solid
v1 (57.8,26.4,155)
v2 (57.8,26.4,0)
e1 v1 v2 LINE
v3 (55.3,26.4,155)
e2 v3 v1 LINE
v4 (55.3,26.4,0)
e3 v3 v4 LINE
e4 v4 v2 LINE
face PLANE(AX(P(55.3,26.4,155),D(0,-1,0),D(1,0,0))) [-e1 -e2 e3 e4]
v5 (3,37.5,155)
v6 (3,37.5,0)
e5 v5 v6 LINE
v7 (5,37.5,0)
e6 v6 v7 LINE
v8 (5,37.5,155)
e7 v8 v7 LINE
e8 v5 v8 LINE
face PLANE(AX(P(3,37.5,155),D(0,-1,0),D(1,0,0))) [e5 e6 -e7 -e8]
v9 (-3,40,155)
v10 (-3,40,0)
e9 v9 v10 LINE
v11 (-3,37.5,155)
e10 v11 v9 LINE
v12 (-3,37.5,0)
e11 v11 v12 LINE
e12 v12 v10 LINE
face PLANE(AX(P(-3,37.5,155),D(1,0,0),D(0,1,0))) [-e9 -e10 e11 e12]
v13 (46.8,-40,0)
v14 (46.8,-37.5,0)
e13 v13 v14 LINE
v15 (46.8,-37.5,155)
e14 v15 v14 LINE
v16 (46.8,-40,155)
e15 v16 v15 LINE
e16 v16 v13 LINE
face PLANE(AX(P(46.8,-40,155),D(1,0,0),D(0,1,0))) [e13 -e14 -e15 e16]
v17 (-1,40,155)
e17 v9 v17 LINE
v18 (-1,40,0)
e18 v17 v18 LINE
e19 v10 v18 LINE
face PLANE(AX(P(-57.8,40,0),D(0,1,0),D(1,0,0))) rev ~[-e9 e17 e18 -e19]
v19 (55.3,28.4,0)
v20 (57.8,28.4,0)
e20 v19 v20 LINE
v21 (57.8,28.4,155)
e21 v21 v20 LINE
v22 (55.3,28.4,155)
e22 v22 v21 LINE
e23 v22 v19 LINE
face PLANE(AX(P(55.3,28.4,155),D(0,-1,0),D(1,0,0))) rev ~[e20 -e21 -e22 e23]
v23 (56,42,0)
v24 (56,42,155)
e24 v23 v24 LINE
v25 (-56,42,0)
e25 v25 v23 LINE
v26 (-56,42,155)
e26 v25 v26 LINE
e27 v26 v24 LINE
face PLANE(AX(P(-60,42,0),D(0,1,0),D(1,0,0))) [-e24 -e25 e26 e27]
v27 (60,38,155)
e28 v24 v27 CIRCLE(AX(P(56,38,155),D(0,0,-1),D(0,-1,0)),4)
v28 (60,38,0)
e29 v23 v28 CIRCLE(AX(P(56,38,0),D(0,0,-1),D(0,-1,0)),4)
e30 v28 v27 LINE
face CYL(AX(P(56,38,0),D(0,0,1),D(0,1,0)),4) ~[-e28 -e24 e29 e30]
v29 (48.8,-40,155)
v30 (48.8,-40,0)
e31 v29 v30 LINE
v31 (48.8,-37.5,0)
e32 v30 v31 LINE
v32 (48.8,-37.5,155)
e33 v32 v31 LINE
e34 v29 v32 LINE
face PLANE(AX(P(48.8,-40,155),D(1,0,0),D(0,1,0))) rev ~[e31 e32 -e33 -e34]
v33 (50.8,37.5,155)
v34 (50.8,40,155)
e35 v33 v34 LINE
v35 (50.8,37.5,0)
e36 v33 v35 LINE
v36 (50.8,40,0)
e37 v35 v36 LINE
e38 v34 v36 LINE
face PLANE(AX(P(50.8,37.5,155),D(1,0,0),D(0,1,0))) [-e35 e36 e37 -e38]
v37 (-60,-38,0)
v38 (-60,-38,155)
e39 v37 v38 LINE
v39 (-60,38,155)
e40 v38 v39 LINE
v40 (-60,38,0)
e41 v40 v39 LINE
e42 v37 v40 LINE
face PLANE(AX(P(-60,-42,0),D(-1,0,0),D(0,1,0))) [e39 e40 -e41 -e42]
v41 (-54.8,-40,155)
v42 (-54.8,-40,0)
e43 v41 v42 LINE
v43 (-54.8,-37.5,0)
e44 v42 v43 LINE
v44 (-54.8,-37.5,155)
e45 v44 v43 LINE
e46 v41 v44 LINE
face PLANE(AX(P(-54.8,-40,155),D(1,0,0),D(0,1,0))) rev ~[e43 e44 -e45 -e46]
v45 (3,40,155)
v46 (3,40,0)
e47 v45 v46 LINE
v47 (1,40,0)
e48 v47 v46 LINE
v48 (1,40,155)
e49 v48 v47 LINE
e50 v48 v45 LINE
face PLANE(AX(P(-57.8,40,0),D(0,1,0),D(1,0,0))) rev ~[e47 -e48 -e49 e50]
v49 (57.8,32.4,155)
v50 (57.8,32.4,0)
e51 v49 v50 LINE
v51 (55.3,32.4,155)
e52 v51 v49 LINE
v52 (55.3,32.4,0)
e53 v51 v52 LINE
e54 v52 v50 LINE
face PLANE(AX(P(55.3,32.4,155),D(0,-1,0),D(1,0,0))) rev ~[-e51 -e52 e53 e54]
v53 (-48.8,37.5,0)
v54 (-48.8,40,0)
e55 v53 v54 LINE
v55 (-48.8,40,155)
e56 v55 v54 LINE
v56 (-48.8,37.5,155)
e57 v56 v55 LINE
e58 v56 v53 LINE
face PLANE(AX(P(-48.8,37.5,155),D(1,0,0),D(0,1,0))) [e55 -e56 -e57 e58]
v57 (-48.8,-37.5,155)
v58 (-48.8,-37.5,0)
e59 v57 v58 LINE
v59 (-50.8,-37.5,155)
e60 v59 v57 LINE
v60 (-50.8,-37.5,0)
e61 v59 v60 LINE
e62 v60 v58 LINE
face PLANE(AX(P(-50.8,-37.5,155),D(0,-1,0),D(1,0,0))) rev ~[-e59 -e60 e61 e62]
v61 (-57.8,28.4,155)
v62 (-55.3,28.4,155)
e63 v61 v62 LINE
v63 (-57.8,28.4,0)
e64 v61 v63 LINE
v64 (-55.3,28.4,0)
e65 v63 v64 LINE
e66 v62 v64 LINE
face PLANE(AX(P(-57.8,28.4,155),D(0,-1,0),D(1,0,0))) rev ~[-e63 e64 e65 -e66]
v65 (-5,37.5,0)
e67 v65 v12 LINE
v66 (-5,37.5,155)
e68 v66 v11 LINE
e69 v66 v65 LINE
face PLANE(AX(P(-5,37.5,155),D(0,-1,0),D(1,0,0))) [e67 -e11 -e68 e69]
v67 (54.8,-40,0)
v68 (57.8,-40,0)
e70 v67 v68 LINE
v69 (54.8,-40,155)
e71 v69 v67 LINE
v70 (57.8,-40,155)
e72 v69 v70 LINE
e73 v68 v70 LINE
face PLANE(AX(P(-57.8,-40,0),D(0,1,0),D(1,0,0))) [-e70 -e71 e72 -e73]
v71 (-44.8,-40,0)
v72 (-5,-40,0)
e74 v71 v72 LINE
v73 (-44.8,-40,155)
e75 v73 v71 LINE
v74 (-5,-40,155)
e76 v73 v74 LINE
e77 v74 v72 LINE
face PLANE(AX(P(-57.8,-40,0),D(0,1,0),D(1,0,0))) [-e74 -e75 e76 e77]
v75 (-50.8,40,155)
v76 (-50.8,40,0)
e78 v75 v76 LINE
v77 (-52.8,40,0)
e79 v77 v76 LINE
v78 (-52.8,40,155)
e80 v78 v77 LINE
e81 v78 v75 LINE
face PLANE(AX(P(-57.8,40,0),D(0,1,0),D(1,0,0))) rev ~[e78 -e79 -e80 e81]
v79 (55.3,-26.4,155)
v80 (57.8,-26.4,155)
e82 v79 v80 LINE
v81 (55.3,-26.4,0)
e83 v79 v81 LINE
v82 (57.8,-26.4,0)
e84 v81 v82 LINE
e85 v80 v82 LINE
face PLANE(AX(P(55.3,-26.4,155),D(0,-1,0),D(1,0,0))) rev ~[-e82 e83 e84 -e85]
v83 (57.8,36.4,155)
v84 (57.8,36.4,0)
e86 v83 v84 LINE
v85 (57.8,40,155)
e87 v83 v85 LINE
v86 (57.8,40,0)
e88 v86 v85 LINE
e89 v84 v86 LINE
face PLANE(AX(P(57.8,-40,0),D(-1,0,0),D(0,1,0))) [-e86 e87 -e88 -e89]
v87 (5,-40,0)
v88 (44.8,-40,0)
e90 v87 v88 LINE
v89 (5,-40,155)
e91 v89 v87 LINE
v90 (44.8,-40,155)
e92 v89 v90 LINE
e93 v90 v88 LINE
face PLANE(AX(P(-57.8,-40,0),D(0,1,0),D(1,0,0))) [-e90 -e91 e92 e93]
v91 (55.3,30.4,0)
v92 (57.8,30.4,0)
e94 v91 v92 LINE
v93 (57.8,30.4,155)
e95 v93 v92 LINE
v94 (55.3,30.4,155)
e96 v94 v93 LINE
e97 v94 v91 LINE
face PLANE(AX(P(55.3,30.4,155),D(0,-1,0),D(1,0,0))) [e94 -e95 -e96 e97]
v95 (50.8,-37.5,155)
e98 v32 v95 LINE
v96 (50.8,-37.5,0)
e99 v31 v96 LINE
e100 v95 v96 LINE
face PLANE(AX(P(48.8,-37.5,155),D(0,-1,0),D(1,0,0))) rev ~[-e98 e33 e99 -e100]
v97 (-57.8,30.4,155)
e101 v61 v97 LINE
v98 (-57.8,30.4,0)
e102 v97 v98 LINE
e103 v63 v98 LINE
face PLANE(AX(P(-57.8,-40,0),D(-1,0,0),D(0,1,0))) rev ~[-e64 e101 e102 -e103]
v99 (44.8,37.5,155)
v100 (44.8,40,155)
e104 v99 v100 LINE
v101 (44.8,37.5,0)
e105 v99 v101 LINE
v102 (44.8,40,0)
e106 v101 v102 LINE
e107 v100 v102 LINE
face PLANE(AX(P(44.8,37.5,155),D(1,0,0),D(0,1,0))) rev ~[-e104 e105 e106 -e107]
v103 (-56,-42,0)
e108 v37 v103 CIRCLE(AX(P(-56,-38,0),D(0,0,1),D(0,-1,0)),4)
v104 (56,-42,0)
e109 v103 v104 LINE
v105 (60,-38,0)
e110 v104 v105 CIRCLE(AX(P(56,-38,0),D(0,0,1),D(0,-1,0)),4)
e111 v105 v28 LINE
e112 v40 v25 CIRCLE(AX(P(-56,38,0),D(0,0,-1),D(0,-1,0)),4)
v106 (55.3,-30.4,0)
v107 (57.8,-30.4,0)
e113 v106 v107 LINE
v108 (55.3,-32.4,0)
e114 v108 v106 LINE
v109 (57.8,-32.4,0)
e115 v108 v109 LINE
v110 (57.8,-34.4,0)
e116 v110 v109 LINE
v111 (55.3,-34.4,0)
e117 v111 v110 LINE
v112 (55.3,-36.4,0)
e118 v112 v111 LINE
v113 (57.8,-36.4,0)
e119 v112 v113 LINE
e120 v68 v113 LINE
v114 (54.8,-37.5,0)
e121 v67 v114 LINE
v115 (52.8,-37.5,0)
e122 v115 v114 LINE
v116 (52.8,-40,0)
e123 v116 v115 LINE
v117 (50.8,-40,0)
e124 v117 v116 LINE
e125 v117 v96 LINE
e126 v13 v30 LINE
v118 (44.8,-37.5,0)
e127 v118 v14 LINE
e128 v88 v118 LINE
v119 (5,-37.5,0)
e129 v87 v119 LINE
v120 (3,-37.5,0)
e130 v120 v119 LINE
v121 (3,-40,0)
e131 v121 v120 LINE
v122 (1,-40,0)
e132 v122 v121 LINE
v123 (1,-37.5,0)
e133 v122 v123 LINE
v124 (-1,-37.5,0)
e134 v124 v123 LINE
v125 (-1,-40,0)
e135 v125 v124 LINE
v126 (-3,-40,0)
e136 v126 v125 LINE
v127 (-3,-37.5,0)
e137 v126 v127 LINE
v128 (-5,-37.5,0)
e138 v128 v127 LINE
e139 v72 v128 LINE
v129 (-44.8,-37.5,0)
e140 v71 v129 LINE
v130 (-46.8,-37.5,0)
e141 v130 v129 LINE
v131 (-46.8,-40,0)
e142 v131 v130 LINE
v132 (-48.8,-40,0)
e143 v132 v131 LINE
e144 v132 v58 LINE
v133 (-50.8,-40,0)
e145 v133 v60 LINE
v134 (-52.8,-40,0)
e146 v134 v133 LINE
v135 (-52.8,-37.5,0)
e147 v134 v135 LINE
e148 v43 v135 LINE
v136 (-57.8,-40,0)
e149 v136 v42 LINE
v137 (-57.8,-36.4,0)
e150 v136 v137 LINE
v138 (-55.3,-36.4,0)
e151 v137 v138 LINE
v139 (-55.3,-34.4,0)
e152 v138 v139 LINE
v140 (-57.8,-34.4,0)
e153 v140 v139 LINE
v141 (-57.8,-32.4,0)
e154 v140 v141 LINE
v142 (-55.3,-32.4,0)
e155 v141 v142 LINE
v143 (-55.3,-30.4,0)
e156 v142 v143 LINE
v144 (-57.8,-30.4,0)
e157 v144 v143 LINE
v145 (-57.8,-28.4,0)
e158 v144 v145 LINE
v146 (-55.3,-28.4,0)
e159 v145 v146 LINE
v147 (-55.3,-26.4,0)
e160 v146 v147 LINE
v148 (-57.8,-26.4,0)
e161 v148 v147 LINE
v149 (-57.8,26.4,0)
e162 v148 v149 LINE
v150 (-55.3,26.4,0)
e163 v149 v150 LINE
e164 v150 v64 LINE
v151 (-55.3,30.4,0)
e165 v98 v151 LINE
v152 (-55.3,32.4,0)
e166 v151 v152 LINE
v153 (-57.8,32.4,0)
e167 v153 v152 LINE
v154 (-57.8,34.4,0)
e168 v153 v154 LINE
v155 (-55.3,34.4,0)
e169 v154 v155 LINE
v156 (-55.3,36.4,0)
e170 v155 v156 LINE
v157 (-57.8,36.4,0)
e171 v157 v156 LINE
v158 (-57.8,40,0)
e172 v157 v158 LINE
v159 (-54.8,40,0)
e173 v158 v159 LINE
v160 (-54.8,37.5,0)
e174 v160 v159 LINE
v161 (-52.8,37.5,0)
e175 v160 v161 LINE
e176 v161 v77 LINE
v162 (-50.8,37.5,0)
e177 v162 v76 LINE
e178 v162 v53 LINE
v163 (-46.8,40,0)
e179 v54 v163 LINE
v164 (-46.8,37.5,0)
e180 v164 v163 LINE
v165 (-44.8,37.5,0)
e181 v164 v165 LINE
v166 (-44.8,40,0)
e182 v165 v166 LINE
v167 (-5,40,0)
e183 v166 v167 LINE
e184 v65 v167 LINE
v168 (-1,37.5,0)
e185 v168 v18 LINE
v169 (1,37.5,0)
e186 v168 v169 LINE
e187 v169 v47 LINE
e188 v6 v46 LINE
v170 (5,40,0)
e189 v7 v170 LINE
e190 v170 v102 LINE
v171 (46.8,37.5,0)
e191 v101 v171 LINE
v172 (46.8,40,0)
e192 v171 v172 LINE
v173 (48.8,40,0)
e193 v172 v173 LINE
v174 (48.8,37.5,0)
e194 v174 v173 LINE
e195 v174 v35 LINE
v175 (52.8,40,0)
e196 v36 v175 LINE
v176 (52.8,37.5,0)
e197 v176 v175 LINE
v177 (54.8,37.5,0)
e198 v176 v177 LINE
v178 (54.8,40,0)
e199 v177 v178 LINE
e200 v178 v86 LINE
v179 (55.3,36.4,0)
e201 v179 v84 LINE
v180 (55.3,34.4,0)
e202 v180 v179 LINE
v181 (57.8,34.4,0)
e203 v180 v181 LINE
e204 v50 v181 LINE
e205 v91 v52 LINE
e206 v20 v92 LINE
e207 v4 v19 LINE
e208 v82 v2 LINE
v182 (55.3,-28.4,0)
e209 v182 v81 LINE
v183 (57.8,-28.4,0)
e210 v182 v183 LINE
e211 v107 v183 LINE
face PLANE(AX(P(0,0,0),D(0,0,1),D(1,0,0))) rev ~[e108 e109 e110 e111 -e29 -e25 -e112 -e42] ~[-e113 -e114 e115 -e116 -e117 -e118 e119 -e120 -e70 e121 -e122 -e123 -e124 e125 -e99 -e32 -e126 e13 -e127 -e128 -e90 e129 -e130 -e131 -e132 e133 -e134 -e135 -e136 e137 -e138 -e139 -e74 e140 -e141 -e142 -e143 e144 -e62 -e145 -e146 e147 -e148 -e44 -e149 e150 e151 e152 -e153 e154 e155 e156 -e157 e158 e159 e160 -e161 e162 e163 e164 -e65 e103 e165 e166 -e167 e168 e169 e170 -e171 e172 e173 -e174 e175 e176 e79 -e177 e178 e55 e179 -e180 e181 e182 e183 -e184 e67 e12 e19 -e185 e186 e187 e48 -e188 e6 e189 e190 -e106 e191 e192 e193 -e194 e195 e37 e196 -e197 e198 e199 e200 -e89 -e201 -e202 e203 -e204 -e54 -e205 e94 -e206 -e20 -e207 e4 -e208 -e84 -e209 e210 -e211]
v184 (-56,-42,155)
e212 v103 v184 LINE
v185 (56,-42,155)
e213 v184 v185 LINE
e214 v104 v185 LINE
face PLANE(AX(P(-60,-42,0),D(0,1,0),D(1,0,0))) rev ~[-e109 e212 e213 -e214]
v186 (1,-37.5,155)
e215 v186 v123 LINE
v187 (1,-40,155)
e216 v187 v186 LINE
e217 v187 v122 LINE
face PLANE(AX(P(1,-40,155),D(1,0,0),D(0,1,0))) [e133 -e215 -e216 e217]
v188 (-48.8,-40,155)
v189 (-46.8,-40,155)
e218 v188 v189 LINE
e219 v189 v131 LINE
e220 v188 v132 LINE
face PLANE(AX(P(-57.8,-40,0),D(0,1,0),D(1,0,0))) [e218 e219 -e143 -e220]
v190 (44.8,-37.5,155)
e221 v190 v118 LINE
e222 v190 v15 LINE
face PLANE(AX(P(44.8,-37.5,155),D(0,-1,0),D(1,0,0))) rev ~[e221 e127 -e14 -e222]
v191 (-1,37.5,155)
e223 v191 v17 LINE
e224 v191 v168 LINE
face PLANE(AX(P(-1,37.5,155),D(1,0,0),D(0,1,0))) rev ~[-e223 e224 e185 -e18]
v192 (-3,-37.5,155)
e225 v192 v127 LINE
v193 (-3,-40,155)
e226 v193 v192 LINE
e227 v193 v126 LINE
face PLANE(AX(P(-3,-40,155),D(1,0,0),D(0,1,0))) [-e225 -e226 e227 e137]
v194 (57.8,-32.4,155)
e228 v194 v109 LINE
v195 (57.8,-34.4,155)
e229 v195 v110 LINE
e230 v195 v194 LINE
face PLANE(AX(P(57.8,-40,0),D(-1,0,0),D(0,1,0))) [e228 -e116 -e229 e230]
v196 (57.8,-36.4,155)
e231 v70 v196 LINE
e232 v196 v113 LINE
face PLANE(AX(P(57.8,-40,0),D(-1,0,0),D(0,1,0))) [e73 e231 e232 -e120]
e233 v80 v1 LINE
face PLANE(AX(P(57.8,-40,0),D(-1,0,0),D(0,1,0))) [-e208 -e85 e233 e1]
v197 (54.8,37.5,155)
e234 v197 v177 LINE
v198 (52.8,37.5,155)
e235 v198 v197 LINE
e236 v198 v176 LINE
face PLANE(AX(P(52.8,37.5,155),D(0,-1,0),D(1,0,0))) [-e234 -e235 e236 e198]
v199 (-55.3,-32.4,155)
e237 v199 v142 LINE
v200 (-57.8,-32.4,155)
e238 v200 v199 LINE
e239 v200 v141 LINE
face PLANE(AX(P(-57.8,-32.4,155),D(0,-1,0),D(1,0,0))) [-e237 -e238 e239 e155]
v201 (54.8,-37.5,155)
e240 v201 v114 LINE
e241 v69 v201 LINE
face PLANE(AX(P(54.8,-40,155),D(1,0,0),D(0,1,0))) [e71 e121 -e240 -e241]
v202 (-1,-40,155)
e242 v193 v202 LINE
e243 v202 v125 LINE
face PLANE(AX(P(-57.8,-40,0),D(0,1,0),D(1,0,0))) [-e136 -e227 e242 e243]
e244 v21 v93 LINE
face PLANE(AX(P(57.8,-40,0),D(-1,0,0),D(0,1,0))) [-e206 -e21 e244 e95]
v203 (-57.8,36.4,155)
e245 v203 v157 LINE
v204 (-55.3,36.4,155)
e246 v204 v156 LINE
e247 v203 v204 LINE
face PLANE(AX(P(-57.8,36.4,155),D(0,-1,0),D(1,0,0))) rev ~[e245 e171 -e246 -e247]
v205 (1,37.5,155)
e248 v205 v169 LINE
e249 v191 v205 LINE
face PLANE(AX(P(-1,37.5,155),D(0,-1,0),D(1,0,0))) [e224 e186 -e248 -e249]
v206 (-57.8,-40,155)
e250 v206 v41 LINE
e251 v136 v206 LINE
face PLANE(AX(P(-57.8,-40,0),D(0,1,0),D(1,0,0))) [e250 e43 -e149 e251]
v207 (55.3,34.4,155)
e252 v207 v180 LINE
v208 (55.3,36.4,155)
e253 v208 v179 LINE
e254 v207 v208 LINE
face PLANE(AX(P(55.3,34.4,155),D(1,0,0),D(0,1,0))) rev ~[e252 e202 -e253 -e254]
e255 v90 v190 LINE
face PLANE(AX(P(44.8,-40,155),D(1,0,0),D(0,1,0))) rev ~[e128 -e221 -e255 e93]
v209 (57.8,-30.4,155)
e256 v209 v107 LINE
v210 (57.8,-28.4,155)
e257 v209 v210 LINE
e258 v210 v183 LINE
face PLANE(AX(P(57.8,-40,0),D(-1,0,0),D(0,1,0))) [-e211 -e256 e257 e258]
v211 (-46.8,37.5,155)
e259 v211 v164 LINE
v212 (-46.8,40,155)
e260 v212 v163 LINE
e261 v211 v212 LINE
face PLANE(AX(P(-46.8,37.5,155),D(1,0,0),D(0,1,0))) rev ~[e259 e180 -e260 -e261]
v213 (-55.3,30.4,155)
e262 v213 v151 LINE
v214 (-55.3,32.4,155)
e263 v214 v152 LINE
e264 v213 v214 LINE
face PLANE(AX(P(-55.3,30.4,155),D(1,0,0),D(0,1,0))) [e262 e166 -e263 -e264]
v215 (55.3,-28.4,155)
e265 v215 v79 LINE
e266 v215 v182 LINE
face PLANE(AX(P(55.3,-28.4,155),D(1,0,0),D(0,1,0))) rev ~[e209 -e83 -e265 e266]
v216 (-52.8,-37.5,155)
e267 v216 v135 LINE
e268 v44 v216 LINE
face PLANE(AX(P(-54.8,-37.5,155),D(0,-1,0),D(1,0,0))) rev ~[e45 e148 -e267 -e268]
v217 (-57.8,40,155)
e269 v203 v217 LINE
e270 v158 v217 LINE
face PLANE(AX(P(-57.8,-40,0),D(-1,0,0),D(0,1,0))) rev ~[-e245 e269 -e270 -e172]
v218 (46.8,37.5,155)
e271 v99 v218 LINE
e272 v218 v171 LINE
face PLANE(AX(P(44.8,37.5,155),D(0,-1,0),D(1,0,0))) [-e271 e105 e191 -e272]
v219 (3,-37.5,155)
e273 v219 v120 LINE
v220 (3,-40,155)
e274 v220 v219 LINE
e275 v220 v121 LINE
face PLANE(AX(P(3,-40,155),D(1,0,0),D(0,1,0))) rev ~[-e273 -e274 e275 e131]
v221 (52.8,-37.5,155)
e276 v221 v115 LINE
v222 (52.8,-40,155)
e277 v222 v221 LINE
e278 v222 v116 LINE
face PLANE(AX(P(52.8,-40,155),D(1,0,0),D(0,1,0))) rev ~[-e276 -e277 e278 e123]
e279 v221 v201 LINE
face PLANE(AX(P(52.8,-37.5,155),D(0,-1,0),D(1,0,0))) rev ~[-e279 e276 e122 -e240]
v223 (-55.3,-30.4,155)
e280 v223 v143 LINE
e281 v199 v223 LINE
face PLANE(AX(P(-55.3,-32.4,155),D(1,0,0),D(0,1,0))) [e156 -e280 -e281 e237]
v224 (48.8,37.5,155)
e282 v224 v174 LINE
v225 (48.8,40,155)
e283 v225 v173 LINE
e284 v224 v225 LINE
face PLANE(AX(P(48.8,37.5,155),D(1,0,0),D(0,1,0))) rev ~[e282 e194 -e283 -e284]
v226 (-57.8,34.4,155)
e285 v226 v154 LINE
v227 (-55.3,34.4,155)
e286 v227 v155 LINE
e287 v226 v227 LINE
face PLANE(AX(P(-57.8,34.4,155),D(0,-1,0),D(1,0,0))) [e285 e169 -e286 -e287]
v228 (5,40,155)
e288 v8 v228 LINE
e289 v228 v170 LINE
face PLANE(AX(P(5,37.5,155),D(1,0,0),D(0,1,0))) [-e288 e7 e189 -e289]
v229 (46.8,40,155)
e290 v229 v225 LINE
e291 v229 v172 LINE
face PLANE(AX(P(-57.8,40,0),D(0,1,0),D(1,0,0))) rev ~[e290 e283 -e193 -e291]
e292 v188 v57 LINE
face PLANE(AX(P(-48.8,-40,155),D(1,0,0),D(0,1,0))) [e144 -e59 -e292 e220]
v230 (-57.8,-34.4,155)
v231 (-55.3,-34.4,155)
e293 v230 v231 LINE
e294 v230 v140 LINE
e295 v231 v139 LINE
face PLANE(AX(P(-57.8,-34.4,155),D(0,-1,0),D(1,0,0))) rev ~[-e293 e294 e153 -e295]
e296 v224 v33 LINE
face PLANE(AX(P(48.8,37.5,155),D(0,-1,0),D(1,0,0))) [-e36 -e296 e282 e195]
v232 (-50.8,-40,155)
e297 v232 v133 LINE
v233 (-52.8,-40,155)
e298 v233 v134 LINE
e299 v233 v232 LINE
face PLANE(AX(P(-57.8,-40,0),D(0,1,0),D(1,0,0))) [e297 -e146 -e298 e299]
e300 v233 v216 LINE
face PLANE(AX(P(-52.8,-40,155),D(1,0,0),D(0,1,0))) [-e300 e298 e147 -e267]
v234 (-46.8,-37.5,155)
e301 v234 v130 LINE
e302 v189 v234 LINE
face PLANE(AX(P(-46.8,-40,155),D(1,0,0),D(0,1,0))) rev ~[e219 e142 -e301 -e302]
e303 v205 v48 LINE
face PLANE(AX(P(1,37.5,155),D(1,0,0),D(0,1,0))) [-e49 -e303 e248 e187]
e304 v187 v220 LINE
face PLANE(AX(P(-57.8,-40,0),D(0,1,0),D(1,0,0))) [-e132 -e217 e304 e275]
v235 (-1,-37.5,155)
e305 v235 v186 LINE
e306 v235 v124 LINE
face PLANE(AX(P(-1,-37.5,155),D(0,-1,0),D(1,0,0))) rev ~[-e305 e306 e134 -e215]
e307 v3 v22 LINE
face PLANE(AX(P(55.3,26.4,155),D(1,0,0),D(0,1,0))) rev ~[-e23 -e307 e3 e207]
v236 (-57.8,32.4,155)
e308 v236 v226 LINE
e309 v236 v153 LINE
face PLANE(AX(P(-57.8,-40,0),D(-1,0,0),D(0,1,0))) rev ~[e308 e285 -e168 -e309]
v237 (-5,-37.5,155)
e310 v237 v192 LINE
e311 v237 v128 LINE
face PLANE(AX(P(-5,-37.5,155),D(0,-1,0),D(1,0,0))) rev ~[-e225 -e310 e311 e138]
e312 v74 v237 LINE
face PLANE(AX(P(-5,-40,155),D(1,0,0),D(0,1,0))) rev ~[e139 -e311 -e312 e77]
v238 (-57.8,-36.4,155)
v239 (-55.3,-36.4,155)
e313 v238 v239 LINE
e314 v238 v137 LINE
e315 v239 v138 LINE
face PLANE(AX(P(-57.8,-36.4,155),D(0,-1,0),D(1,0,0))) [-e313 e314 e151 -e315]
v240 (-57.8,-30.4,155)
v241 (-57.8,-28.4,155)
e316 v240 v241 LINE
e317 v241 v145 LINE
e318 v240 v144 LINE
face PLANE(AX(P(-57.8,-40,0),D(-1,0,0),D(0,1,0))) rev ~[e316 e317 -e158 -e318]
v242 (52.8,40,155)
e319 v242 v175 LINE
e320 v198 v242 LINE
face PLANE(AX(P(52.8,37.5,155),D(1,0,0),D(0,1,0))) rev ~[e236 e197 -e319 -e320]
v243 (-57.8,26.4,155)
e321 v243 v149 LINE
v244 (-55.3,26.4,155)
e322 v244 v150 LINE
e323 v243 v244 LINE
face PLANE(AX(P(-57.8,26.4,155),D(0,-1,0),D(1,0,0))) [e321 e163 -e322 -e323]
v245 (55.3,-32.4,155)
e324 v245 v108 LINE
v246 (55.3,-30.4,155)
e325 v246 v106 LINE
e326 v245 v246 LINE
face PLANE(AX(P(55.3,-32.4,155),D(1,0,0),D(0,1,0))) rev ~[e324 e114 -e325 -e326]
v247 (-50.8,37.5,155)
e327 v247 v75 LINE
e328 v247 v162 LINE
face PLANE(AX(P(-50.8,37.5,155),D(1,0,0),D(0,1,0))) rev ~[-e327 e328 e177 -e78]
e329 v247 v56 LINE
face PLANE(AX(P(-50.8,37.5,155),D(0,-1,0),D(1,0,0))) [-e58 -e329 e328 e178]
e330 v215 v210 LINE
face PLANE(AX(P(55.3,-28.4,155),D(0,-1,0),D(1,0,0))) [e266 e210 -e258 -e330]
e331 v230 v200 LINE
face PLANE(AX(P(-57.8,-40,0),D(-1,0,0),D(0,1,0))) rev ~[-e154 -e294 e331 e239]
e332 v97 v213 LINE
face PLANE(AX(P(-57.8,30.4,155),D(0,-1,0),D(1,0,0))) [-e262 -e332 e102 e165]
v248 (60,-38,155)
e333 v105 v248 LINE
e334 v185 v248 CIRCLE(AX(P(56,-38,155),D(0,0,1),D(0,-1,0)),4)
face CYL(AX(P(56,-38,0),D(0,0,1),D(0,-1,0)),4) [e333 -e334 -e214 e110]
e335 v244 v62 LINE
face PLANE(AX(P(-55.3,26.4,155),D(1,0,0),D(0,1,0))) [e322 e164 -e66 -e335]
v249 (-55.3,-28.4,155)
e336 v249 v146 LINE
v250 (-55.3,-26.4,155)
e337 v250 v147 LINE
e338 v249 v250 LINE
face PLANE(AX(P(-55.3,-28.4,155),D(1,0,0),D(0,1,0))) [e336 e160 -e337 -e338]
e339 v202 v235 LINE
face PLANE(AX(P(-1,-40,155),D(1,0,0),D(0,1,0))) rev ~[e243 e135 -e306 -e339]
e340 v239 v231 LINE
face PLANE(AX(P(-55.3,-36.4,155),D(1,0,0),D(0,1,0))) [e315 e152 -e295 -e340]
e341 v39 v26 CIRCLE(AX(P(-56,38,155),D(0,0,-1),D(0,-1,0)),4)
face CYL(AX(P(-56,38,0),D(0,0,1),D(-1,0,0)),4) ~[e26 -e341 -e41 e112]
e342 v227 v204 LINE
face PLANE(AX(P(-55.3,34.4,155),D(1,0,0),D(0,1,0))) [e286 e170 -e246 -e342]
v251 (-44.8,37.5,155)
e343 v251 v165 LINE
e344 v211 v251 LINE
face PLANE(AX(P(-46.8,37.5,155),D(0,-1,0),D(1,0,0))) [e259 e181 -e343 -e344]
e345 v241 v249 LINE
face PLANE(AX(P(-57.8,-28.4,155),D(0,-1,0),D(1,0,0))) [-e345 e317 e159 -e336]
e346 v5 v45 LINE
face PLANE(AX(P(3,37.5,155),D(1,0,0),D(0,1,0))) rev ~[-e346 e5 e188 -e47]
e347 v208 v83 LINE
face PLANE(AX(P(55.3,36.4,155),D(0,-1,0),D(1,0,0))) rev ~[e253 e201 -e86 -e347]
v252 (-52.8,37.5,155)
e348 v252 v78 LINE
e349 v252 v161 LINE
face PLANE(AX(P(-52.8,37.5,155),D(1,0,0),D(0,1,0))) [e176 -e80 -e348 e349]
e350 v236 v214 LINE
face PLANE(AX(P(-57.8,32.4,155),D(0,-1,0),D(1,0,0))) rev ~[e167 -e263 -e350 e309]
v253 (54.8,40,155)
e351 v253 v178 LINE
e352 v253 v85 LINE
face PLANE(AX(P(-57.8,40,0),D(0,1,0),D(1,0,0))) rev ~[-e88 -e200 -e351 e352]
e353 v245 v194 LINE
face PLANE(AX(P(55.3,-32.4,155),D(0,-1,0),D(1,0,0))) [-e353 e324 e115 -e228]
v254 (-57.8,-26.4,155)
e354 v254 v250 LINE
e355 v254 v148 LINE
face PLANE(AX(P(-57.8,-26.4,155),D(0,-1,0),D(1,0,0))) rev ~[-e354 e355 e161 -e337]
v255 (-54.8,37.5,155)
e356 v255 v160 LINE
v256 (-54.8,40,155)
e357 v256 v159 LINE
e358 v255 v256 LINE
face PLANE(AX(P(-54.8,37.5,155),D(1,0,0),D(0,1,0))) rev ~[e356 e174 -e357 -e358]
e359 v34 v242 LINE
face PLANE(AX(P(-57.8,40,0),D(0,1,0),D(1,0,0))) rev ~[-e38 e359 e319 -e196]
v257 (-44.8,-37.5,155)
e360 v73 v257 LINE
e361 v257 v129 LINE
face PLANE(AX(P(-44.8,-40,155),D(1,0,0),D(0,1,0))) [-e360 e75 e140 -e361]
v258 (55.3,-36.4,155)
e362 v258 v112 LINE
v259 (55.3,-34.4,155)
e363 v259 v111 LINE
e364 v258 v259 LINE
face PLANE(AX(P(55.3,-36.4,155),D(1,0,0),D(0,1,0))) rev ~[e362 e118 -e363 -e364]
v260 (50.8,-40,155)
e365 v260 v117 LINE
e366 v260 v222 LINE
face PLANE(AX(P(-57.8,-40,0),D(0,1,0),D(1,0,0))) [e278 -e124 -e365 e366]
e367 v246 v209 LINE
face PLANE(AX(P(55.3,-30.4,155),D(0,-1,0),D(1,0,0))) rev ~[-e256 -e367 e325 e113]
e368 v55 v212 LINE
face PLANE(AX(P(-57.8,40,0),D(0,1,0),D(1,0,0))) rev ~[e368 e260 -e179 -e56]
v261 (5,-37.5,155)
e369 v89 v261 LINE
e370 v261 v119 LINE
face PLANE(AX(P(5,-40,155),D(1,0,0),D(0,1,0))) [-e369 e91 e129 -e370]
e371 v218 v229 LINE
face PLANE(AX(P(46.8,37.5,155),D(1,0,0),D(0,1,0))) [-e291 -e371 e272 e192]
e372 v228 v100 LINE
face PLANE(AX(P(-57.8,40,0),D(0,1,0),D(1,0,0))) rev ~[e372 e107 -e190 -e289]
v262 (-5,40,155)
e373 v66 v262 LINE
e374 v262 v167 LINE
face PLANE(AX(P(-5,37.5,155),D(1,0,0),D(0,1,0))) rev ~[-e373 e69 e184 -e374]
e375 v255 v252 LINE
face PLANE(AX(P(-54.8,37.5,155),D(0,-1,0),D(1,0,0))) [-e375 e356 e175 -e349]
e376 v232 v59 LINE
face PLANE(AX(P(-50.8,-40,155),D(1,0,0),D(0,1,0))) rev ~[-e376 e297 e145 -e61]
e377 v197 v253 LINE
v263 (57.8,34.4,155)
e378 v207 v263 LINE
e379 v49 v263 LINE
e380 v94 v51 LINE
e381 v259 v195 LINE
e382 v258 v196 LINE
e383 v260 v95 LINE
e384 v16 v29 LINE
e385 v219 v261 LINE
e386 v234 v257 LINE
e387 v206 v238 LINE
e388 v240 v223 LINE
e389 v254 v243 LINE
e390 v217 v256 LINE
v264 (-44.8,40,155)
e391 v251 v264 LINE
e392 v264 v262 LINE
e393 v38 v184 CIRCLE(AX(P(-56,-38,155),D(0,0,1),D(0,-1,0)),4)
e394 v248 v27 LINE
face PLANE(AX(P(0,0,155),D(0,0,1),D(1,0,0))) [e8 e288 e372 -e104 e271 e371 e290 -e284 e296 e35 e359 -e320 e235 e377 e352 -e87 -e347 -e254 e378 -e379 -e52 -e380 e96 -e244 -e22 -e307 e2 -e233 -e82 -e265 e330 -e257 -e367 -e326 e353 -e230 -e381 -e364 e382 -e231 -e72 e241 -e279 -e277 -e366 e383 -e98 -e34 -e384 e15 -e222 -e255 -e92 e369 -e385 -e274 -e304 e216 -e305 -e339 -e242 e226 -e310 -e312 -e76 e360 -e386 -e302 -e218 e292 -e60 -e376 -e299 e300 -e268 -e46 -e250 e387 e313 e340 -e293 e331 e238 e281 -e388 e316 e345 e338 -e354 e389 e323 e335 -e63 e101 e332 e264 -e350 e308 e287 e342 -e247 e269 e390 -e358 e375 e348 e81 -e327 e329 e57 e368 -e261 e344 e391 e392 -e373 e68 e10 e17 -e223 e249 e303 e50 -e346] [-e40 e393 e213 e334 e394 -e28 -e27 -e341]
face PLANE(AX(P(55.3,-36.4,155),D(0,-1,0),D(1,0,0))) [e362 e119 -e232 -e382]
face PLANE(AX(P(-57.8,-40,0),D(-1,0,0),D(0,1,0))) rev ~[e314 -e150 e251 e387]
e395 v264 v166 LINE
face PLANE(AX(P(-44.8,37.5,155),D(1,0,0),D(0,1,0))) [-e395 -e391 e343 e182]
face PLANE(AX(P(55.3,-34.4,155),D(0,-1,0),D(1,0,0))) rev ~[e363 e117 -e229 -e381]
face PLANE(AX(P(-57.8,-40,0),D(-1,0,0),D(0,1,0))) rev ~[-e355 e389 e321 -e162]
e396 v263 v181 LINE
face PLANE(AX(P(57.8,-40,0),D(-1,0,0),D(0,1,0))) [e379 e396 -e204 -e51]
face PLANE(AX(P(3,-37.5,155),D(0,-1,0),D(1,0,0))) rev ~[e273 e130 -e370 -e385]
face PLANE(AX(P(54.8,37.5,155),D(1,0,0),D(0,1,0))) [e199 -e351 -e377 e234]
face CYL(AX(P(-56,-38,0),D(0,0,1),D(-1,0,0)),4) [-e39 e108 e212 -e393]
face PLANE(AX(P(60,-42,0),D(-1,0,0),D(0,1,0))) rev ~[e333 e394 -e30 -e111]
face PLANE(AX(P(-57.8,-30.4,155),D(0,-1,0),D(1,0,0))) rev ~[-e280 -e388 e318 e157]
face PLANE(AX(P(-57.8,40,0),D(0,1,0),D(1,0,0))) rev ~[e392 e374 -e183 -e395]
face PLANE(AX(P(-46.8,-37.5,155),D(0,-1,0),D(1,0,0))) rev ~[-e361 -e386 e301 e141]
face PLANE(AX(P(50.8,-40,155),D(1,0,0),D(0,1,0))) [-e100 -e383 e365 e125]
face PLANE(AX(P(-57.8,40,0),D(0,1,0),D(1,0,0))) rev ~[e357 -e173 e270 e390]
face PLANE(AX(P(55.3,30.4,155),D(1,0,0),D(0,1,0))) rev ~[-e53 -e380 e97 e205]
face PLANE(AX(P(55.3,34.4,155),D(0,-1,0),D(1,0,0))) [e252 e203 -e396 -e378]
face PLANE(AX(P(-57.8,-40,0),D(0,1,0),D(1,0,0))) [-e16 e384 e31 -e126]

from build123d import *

# Parameters (mm, degrees)
SKETCH1_W           = 120
SKETCH1_H           = 84
SKETCH1_W_2         = 115.6
SKETCH1_H_2         = 80
BOSS_EXTRUDE1_DEPTH = 155
FILLET1_R           = 4
SKETCH3_W           = 2
SKETCH3_H           = 2.5
SKETCH3_W_2         = 2.5
SKETCH3_H_2         = 2
FINALBOX_DEPTH      = 155


with BuildPart() as part:
    # Sketch1 → Boss-Extrude1 (new body)
    with BuildSketch(Plane.XY):
        Rectangle(SKETCH1_W, SKETCH1_H)
        Rectangle(SKETCH1_W_2, SKETCH1_H_2, mode=Mode.SUBTRACT)
    extrude(amount=BOSS_EXTRUDE1_DEPTH)

    # Fillet1
    fillet1_edges = [part.edges().sort_by_distance(p)[0] for p in [
        (60, -42, 77.5),
        (-60, -42, 77.5),
        (-60, 42, 77.5),
        (60, 42, 77.5),
    ]]
    fillet(fillet1_edges, radius=FILLET1_R)

    # Sketch3 → FinalBox (add, through all)
    with BuildSketch(Plane.XY.offset(155)):
        with Locations((-53.8, 38.75)):
            Rectangle(SKETCH3_W, SKETCH3_H)
        with Locations((-49.8, 38.75)):
            Rectangle(SKETCH3_W, SKETCH3_H)
        with Locations((-45.8, 38.75)):
            Rectangle(SKETCH3_W, SKETCH3_H)
        with Locations((-56.55, 35.4)):
            Rectangle(SKETCH3_W_2, SKETCH3_H_2)
        with Locations((-56.55, 31.4)):
            Rectangle(SKETCH3_W_2, SKETCH3_H_2)
        with Locations((-56.55, 27.4)):
            Rectangle(SKETCH3_W_2, SKETCH3_H_2)
        with Locations((56.55, 27.4)):
            Rectangle(SKETCH3_W_2, SKETCH3_H_2)
        with Locations((56.55, 31.4)):
            Rectangle(SKETCH3_W_2, SKETCH3_H_2)
        with Locations((56.55, 35.4)):
            Rectangle(SKETCH3_W_2, SKETCH3_H_2)
        with Locations((53.8, 38.75)):
            Rectangle(SKETCH3_W, SKETCH3_H)
        with Locations((49.8, 38.75)):
            Rectangle(SKETCH3_W, SKETCH3_H)
        with Locations((45.8, 38.75)):
            Rectangle(SKETCH3_W, SKETCH3_H)
        with Locations((45.8, -38.75)):
            Rectangle(SKETCH3_W, SKETCH3_H)
        with Locations((49.8, -38.75)):
            Rectangle(SKETCH3_W, SKETCH3_H)
        with Locations((53.8, -38.75)):
            Rectangle(SKETCH3_W, SKETCH3_H)
        with Locations((56.55, -35.4)):
            Rectangle(SKETCH3_W_2, SKETCH3_H_2)
        with Locations((56.55, -31.4)):
            Rectangle(SKETCH3_W_2, SKETCH3_H_2)
        with Locations((56.55, -27.4)):
            Rectangle(SKETCH3_W_2, SKETCH3_H_2)
        with Locations((-45.8, -38.75)):
            Rectangle(SKETCH3_W, SKETCH3_H)
        with Locations((-49.8, -38.75)):
            Rectangle(SKETCH3_W, SKETCH3_H)
        with Locations((-53.8, -38.75)):
            Rectangle(SKETCH3_W, SKETCH3_H)
        with Locations((-56.55, -35.4)):
            Rectangle(SKETCH3_W_2, SKETCH3_H_2)
        with Locations((-56.55, -31.4)):
            Rectangle(SKETCH3_W_2, SKETCH3_H_2)
        with Locations((-56.55, -27.4)):
            Rectangle(SKETCH3_W_2, SKETCH3_H_2)
        with Locations((-4, -38.75)):
            Rectangle(SKETCH3_W, SKETCH3_H)
        with Locations((-4, 38.75)):
            Rectangle(SKETCH3_W, SKETCH3_H)
        with Locations((0, 38.75)):
            Rectangle(SKETCH3_W, SKETCH3_H)
        with Locations((4, 38.75)):
            Rectangle(SKETCH3_W, SKETCH3_H)
        with Locations((0, -38.75)):
            Rectangle(SKETCH3_W, SKETCH3_H)
        with Locations((4, -38.75)):
            Rectangle(SKETCH3_W, SKETCH3_H)
    extrude(amount=-FINALBOX_DEPTH)


solid = part.part
